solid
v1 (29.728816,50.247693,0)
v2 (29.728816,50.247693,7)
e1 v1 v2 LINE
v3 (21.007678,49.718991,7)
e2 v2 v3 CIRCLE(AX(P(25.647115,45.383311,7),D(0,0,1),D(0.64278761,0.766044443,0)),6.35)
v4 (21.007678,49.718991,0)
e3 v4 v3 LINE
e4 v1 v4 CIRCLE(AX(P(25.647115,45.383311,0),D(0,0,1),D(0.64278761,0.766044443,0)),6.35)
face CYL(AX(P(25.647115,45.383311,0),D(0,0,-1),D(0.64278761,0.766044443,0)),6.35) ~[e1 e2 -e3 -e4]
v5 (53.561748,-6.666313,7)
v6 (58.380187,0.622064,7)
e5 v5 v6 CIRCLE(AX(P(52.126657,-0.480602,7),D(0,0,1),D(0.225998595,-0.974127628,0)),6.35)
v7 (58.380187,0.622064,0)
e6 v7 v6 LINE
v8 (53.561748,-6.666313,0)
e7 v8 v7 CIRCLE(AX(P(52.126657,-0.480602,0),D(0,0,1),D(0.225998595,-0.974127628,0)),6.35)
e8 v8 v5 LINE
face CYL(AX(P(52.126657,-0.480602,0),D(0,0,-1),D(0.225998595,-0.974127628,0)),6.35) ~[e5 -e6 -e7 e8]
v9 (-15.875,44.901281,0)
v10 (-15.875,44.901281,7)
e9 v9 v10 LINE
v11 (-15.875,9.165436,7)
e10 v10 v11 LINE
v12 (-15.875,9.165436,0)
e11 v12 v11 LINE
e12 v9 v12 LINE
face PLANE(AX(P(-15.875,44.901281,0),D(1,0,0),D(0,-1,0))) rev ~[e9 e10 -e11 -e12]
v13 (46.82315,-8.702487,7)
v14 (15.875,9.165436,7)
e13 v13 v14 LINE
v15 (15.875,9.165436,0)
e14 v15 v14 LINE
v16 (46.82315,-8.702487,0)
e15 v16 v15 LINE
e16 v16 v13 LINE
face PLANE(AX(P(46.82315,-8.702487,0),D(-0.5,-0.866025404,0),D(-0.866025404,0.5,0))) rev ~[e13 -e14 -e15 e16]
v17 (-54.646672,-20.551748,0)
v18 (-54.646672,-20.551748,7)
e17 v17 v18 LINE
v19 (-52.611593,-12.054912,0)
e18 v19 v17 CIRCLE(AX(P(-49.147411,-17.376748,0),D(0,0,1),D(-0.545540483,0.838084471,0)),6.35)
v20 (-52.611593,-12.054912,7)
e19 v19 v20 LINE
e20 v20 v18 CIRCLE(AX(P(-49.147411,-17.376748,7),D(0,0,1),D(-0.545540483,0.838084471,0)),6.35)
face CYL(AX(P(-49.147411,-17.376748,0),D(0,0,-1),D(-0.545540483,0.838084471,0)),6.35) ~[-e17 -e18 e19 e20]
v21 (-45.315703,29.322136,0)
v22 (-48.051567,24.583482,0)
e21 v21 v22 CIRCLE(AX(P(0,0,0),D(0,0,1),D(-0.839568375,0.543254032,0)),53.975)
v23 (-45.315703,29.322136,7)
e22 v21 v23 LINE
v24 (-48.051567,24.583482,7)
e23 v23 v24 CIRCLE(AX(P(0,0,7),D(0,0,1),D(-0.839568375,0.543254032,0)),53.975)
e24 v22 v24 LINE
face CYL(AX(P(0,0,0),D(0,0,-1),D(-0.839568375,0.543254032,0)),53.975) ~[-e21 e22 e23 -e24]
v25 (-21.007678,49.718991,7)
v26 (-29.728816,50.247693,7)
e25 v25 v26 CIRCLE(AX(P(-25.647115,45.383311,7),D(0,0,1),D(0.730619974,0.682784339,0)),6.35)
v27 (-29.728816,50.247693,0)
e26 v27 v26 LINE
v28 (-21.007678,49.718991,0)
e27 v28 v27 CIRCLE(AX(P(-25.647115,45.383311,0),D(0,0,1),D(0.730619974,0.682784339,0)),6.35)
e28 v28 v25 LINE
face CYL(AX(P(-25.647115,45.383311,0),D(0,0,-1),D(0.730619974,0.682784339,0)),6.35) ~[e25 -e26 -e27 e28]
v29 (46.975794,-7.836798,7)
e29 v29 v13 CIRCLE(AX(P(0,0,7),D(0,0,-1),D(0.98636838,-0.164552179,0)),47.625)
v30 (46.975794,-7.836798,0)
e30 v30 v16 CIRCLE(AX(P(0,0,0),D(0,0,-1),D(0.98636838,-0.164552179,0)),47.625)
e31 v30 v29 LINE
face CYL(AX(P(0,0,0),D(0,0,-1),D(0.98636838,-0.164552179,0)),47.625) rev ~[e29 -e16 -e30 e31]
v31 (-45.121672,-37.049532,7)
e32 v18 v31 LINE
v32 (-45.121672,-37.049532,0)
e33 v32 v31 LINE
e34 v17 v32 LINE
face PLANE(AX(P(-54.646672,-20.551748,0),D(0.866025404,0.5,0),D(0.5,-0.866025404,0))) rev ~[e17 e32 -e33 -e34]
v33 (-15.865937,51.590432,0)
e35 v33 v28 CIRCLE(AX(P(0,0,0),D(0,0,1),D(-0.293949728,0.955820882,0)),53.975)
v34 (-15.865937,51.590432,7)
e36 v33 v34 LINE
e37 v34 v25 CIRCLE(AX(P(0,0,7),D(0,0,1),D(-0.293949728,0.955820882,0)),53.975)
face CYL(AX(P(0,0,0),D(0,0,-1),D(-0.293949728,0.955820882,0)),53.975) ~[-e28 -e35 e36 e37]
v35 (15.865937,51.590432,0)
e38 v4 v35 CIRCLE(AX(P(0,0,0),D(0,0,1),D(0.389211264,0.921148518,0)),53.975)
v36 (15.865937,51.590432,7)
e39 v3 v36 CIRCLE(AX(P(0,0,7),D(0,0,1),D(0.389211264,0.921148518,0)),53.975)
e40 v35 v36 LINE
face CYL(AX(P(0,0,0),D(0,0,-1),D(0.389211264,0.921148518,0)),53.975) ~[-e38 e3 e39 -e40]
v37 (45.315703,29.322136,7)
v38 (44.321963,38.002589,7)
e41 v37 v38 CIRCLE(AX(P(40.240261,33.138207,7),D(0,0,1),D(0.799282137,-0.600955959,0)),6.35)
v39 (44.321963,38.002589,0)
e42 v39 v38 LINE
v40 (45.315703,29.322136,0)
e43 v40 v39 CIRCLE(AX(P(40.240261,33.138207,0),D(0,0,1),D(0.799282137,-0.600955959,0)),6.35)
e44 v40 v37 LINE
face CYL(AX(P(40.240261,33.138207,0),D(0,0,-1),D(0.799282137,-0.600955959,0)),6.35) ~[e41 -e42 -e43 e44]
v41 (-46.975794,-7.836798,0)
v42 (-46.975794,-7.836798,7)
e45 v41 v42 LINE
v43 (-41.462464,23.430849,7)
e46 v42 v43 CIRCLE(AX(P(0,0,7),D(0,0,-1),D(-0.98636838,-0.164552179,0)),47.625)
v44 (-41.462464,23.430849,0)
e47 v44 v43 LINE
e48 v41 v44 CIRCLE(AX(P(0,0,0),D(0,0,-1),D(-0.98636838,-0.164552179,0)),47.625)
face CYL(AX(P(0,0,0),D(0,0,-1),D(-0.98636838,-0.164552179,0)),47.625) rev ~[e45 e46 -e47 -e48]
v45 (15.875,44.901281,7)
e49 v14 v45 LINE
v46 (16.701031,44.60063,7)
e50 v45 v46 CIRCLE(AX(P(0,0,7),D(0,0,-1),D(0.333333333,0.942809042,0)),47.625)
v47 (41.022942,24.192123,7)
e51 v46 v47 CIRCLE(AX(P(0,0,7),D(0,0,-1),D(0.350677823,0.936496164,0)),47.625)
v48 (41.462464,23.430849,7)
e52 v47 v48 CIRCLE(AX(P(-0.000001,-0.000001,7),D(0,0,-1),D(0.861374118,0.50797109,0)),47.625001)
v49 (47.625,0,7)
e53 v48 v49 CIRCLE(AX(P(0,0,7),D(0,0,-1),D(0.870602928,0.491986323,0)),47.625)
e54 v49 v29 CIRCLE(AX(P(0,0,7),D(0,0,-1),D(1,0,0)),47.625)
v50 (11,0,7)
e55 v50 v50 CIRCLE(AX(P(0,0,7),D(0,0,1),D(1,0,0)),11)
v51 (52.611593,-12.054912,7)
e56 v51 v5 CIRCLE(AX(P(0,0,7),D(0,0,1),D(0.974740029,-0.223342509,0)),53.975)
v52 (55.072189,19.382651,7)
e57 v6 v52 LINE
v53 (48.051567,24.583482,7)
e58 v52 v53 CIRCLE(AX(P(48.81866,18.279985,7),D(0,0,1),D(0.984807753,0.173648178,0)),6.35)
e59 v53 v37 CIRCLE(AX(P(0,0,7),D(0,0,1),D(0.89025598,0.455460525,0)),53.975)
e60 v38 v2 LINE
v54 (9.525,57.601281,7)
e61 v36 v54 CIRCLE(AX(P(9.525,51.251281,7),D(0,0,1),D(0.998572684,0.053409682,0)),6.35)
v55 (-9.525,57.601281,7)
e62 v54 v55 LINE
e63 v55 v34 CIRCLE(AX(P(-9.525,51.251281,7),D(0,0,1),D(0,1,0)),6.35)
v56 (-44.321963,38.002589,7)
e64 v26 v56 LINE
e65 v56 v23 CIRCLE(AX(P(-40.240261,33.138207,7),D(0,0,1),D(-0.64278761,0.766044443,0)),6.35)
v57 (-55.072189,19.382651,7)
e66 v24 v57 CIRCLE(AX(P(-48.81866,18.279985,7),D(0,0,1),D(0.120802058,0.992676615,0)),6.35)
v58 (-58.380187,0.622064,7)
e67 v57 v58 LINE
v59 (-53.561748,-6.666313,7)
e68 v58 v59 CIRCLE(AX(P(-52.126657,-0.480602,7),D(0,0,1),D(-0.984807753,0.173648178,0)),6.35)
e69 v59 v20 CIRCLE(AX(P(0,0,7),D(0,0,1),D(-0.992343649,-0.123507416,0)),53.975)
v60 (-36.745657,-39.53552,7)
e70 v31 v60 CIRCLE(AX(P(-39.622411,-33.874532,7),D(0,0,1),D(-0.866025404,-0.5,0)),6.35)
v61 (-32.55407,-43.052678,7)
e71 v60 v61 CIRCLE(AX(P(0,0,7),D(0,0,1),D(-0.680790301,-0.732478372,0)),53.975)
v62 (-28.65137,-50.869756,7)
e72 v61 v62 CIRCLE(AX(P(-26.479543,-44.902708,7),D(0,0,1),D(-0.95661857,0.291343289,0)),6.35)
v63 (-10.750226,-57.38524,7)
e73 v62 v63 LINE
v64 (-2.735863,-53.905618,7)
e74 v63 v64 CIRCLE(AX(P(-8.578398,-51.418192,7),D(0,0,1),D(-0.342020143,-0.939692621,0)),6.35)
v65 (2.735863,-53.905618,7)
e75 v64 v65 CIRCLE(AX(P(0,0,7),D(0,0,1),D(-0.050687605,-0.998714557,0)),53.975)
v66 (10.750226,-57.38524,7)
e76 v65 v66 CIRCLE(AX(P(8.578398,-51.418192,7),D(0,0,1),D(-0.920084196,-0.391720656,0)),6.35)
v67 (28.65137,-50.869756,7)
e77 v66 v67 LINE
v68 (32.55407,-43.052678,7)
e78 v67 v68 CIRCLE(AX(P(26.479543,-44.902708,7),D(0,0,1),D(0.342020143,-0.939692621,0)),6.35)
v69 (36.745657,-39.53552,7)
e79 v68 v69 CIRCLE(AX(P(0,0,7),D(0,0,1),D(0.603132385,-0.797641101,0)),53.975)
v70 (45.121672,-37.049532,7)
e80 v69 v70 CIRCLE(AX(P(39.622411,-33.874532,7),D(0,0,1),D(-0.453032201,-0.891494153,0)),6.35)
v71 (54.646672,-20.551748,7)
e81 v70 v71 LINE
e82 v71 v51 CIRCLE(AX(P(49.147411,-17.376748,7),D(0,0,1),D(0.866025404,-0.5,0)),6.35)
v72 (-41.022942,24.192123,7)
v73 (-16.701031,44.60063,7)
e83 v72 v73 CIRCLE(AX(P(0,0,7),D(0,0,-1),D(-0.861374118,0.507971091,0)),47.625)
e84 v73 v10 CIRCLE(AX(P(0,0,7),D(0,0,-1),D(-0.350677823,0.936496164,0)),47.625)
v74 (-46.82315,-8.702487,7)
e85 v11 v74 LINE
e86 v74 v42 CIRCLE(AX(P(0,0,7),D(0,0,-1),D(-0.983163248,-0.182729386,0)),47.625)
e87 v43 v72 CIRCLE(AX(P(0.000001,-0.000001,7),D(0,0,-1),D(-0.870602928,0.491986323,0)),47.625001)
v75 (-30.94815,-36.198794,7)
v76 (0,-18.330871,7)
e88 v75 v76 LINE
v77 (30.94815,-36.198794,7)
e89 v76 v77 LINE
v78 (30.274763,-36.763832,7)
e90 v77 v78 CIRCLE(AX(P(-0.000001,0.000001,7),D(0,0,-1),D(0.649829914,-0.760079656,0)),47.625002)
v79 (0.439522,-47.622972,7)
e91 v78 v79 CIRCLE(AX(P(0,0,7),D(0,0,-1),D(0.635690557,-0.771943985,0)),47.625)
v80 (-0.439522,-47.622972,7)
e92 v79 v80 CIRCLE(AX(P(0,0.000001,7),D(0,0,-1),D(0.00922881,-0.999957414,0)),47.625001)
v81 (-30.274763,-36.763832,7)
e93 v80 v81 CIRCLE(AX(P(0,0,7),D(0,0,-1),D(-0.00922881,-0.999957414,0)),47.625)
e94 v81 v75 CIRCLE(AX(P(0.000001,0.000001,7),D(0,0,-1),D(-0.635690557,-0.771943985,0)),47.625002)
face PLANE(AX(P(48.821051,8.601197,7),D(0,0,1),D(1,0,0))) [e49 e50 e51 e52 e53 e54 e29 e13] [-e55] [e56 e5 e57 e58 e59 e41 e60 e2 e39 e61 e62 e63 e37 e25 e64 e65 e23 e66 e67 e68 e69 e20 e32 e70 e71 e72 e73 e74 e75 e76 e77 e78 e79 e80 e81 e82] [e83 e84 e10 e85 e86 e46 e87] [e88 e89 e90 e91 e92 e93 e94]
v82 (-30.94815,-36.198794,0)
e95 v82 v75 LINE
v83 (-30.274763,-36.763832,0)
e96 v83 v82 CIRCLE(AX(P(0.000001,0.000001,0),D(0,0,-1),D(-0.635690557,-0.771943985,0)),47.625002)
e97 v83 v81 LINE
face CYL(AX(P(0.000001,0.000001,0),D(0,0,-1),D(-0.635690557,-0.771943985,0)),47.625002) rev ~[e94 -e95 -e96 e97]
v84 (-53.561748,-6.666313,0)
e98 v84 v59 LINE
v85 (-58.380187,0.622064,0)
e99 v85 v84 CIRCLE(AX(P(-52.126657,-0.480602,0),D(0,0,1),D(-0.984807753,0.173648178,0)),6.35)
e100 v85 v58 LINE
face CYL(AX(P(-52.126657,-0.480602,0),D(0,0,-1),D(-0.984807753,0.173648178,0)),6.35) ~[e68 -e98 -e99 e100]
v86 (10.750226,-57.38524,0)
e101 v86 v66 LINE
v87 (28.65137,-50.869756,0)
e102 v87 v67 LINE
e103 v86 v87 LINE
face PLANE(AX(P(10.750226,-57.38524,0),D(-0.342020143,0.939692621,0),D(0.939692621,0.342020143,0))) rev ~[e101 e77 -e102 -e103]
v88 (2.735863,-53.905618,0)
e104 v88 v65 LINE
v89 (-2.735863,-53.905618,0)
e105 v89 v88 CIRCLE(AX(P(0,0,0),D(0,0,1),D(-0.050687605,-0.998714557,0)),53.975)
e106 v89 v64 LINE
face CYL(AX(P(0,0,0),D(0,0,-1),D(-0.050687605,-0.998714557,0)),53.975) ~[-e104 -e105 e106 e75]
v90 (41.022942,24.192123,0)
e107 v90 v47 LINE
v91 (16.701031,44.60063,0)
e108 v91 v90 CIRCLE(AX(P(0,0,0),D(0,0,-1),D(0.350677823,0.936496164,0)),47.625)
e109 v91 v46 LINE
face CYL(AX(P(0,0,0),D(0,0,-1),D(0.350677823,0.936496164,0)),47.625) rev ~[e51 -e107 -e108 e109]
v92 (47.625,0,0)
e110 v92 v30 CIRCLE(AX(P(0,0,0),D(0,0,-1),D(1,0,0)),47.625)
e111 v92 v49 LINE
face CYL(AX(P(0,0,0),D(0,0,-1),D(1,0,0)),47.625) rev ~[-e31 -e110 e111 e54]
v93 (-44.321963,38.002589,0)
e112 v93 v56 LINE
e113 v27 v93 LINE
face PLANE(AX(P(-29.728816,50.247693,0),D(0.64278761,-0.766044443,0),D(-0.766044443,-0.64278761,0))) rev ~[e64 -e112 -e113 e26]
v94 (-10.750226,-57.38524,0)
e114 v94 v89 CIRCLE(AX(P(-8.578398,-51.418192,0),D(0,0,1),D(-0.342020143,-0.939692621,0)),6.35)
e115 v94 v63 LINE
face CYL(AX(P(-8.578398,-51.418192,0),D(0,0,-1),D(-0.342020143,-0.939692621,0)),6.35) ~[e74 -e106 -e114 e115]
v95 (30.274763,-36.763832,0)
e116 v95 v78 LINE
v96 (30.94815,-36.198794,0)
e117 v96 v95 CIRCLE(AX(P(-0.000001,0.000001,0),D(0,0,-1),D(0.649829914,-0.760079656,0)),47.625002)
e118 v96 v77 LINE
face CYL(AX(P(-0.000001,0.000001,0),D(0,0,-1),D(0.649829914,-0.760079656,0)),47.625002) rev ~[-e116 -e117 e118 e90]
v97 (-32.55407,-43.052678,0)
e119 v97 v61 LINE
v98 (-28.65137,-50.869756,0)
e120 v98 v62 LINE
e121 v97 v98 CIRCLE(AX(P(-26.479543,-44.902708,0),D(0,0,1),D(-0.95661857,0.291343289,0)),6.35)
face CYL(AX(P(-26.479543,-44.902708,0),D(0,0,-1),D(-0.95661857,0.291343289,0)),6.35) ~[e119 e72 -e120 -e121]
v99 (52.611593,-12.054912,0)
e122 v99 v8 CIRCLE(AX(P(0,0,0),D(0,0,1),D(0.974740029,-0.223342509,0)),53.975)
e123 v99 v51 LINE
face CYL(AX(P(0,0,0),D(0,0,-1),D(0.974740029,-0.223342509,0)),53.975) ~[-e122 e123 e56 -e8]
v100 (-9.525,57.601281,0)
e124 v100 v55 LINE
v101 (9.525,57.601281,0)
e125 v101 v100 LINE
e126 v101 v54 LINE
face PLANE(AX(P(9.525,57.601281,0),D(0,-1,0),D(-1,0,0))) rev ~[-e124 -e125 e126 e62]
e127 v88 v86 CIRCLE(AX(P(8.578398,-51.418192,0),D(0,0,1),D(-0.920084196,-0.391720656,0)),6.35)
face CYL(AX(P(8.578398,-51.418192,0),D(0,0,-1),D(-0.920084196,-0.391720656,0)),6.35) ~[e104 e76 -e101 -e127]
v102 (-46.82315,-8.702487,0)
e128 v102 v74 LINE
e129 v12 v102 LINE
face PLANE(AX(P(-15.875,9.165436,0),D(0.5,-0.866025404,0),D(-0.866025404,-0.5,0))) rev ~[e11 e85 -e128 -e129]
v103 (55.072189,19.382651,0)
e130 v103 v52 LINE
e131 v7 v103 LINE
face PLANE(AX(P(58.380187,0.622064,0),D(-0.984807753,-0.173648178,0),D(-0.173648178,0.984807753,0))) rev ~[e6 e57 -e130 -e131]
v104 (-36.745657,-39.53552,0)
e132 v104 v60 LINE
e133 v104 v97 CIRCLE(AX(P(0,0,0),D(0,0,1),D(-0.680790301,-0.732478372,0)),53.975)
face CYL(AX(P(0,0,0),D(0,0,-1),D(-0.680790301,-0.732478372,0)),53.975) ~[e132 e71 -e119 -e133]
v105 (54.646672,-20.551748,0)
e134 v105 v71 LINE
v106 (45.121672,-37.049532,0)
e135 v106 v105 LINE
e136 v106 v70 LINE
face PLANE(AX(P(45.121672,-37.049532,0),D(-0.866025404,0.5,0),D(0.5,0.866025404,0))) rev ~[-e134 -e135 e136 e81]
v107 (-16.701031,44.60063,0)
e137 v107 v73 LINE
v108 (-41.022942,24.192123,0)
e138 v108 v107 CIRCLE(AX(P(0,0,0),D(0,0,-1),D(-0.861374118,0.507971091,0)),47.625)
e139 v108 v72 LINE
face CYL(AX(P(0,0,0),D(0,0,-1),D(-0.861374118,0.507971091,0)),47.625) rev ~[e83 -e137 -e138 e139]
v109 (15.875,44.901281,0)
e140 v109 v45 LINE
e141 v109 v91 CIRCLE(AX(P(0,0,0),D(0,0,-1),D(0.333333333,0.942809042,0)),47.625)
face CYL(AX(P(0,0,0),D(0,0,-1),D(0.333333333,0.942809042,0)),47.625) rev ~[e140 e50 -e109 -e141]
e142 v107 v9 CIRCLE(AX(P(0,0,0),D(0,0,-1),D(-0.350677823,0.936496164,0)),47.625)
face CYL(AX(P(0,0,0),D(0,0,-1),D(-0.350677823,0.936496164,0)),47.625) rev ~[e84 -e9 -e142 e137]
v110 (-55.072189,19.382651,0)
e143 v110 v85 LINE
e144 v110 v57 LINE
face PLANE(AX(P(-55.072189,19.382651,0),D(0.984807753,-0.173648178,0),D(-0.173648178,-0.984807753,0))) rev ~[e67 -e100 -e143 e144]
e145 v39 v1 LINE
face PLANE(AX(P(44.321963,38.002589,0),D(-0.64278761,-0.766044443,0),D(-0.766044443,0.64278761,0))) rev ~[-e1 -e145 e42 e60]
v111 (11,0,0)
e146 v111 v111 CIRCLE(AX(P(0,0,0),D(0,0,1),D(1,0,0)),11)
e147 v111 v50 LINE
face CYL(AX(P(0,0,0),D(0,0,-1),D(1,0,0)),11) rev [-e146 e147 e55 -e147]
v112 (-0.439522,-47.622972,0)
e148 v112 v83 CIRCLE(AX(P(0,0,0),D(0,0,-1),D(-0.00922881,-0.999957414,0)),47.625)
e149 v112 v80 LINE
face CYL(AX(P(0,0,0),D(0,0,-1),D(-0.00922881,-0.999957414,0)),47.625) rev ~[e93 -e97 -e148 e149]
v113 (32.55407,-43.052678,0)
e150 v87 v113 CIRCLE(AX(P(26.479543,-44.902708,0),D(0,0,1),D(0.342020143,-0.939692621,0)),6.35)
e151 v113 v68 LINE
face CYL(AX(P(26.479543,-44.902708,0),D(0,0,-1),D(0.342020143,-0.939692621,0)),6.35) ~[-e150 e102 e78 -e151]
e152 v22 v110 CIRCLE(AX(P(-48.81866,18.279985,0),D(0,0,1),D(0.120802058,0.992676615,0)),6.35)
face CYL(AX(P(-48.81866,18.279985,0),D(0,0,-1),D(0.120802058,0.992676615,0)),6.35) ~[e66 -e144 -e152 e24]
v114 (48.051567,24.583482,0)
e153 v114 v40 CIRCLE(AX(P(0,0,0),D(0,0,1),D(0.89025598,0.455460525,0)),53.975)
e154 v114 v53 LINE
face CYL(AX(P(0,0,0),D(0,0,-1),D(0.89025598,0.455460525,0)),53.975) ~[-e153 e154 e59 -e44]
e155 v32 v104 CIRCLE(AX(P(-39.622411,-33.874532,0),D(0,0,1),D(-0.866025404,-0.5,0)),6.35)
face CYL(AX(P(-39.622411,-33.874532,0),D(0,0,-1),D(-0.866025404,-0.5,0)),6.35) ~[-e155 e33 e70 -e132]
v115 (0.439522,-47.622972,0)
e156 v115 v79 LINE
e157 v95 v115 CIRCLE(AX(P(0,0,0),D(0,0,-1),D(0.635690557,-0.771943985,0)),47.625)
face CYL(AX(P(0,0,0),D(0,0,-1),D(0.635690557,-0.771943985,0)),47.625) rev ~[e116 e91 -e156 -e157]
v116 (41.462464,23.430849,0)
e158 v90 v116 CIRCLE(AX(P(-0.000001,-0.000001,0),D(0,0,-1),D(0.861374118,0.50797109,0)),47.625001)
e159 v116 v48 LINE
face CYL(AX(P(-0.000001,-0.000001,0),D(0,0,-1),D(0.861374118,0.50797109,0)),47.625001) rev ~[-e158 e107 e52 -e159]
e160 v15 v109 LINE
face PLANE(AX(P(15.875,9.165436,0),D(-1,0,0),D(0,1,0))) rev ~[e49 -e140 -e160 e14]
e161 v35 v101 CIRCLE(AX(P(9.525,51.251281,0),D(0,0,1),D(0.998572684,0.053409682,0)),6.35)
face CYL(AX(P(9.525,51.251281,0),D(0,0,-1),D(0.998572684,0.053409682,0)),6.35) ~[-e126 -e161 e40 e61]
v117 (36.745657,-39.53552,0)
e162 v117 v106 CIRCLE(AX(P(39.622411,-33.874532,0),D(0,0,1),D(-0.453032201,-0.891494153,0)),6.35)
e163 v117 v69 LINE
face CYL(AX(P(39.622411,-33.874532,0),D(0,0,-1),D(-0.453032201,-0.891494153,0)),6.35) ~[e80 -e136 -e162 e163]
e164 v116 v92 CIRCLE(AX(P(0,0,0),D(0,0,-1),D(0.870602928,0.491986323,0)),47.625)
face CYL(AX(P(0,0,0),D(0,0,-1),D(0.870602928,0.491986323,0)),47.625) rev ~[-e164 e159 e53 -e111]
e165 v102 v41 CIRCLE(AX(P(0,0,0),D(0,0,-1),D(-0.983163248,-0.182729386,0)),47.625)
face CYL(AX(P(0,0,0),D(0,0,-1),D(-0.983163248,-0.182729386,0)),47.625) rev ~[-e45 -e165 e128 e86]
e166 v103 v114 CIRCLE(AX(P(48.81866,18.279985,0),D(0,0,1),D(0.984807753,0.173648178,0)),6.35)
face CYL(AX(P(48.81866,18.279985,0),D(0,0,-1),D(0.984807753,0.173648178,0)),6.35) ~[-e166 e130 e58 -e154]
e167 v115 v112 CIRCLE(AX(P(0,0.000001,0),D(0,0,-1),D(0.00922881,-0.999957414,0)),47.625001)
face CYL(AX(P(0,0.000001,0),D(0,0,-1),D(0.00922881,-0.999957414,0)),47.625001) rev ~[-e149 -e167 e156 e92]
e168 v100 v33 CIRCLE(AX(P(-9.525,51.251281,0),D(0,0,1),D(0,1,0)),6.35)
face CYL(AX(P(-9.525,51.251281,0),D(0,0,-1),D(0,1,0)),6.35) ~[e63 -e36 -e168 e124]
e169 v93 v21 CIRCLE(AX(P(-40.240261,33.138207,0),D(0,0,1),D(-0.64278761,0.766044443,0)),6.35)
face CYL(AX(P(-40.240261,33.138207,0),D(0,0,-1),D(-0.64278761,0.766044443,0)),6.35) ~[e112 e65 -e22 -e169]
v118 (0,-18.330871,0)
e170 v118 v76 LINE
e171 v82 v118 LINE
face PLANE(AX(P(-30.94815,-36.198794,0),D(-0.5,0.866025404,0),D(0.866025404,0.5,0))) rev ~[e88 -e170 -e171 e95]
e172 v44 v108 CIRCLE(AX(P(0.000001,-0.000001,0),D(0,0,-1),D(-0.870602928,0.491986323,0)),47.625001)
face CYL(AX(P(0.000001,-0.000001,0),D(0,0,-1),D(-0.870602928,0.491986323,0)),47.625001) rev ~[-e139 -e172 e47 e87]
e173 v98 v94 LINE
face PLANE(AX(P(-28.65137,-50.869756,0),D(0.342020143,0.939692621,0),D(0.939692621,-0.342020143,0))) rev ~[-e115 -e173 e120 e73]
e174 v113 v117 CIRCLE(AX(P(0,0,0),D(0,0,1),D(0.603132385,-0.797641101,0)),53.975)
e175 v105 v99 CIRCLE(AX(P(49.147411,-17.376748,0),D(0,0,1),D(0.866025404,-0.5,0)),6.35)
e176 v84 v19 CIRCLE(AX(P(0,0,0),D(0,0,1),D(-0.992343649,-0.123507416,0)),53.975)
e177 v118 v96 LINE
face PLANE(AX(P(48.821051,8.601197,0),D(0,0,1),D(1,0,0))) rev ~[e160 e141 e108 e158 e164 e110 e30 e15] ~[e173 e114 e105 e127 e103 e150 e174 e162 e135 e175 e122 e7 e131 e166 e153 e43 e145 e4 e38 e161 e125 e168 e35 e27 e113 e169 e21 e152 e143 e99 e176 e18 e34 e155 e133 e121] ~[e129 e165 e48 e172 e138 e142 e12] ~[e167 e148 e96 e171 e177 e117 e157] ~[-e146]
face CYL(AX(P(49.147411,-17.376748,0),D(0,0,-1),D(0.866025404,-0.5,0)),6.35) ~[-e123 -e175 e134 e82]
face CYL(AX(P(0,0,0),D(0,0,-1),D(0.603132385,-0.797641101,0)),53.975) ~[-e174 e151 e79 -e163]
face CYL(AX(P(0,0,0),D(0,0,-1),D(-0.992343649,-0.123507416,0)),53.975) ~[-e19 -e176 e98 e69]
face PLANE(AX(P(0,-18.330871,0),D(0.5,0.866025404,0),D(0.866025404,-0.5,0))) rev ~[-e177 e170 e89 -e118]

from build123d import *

# Parameters (mm, degrees)
F0_R     = 15.875
F0_R_2   = 11
F1_DEPTH = 7


with BuildPart() as f1:
    # F0 (on Top) → F1 (new body)
    with BuildSketch(Plane.XY):
        with BuildLine():
            ThreePointArc((41.4624644399, 23.4308486311), (46.0586066547, 12.1138506688), (47.625, 0))
            ThreePointArc((47.625, 0), (47.4624210197, -3.931820946), (46.9757940808, -7.836797527))
            Line((46.9757940808, -7.836797527), (53.2293233124, -6.7341315989))
            ThreePointArc((53.2293233124, -6.7341315989), (53.3959889037, -6.7024427295), (53.5617484649, -6.6663128026))
            ThreePointArc((53.5617484649, -6.6663128026), (53.8715880516, -3.3395547313), (53.975, 0))
            ThreePointArc((53.975, 0), (52.4732499869, 12.6435224842), (48.0515665287, 24.5834818352))
            ThreePointArc((48.0515665287, 24.5834818352), (47.8834463294, 24.560739752), (47.7159936715, 24.5335145593))
            Line((47.7159936715, 24.5335145593), (41.4624644399, 23.4308486311))
        make_face()
        with BuildLine():
            ThreePointArc((41.0229423667, 24.1921231929), (41.2444598552, 23.8125), (41.4624644399, 23.4308486311))
            Line((41.4624644399, 23.4308486311), (47.7159936715, 24.5335145593))
            ThreePointArc((47.7159936715, 24.5335145593), (47.8834463294, 24.560739752), (48.0515665287, 24.5834818352))
            ThreePointArc((48.0515665287, 24.5834818352), (46.7437211693, 26.9875), (45.3157030471, 29.3221363879))
            ThreePointArc((45.3157030471, 29.3221363879), (45.2119477257, 29.187911066), (45.1046436882, 29.0565054067))
            Line((45.1046436882, 29.0565054067), (41.0229423667, 24.1921231929))
        make_face()
        with BuildLine():
            Line((53.2293233124, -6.7341315989), (46.9757940808, -7.836797527))
            ThreePointArc((46.9757940808, -7.836797527), (46.9014692372, -8.2699944614), (46.8231496667, -8.7024870176))
            Line((46.8231496667, -8.7024870176), (52.3224109807, -11.8774870176))
            ThreePointArc((52.3224109807, -11.8774870176), (52.4681871753, -11.9642678037), (52.6115930491, -12.0549119383))
            ThreePointArc((52.6115930491, -12.0549119383), (53.1549984688, -9.3726603896), (53.5617484649, -6.6663128026))
            ThreePointArc((53.5617484649, -6.6663128026), (53.3959889037, -6.7024427295), (53.2293233124, -6.7341315989))
        make_face()
        with BuildLine():
            ThreePointArc((16.7010312977, 44.6006298004), (30.6127599113, 36.4828666035), (41.0229423667, 24.1921231929))
            Line((41.0229423667, 24.1921231929), (45.1046436882, 29.0565054067))
            ThreePointArc((45.1046436882, 29.0565054067), (45.2119477257, 29.187911066), (45.3157030471, 29.3221363879))
            ThreePointArc((45.3157030471, 29.3221363879), (34.6944612328, 41.3472488173), (21.0076779958, 49.718991243))
            ThreePointArc((21.0076779958, 49.718991243), (20.8935087807, 49.5935042155), (20.7827326192, 49.4650120142))
            Line((20.7827326192, 49.4650120142), (16.7010312977, 44.6006298004))
        make_face()
        with BuildLine():
            Line((52.3224109807, -11.8774870176), (46.8231496667, -8.7024870176))
            ThreePointArc((46.8231496667, -8.7024870176), (41.2444598552, -23.8125), (30.9481496667, -36.1987935878))
            Line((30.9481496667, -36.1987935878), (36.4474109807, -39.3737935878))
            ThreePointArc((36.4474109807, -39.3737935878), (36.5954534434, -39.4566490825), (36.7456565035, -39.5355201449))
            ThreePointArc((36.7456565035, -39.5355201449), (46.7437211693, -26.9875), (52.6115930491, -12.0549119383))
            ThreePointArc((52.6115930491, -12.0549119383), (52.4681871753, -11.9642678037), (52.3224109807, -11.8774870176))
        make_face()
        with BuildLine():
            ThreePointArc((15.875, 44.9012806053), (16.2887093259, 44.7528610649), (16.7010312977, 44.6006298004))
            Line((16.7010312977, 44.6006298004), (20.7827326192, 49.4650120142))
            ThreePointArc((20.7827326192, 49.4650120142), (20.8935087807, 49.5935042155), (21.0076779958, 49.718991243))
            ThreePointArc((21.0076779958, 49.718991243), (18.460537236, 50.7199092069), (15.8659365456, 51.5904320832))
            ThreePointArc((15.8659365456, 51.5904320832), (15.872733732, 51.4209168862), (15.875, 51.2512806053))
            Line((15.875, 51.2512806053), (15.875, 44.9012806053))
        make_face()
        with BuildLine():
            ThreePointArc((55.0721888313, 19.3826512558), (52.5985279988, 23.3824450174), (48.0515665287, 24.5834818352))
            ThreePointArc((48.0515665287, 24.5834818352), (52.4732499869, 12.6435224842), (53.975, 0))
            ThreePointArc((53.975, 0), (53.8715880516, -3.3395547313), (53.5617484649, -6.6663128026))
            ThreePointArc((53.5617484649, -6.6663128026), (57.4237158208, -3.9825549539), (58.3801866159, 0.622063561))
            Line((58.3801866159, 0.622063561), (55.0721888313, 19.3826512558))
        make_face()
        with BuildLine():
            Line((36.4474109807, -39.3737935878), (30.9481496667, -36.1987935878))
            ThreePointArc((30.9481496667, -36.1987935878), (30.6127599113, -36.4828666035), (30.2747627831, -36.7638322734))
            Line((30.2747627831, -36.7638322734), (32.4465906932, -42.7308804154))
            ThreePointArc((32.4465906932, -42.7308804154), (32.502480123, -42.891061486), (32.5540704691, -43.0526784404))
            ThreePointArc((32.5540704691, -43.0526784404), (34.6944612328, -41.3472488173), (36.7456565035, -39.5355201449))
            ThreePointArc((36.7456565035, -39.5355201449), (36.5954534434, -39.4566490825), (36.4474109807, -39.3737935878))
        make_face()
        with BuildLine():
            ThreePointArc((-15.875, 44.9012806053), (0, 47.625), (15.875, 44.9012806053))
            Line((15.875, 44.9012806053), (15.875, 51.2512806053))
            ThreePointArc((15.875, 51.2512806053), (15.872733732, 51.4209168862), (15.8659365456, 51.5904320832))
            ThreePointArc((15.8659365456, 51.5904320832), (0, 53.975), (-15.8659365456, 51.5904320832))
            ThreePointArc((-15.8659365456, 51.5904320832), (-15.872733732, 51.4209168862), (-15.875, 51.2512806053))
            Line((-15.875, 51.2512806053), (-15.875, 44.9012806053))
        make_face()
        with BuildLine():
            ThreePointArc((21.0076779958, 49.718991243), (34.6944612328, 41.3472488173), (45.3157030471, 29.3221363879))
            ThreePointArc((45.3157030471, 29.3221363879), (46.549055387, 33.86043894), (44.3219627959, 38.002588942))
            Line((44.3219627959, 38.002588942), (29.7288161545, 50.2476929065))
            ThreePointArc((29.7288161545, 50.2476929065), (25.2628641484, 51.7216741575), (21.0076779958, 49.718991243))
        make_face()
        with BuildLine():
            Line((32.4465906932, -42.7308804154), (30.2747627831, -36.7638322734))
            ThreePointArc((30.2747627831, -36.7638322734), (16.2887093259, -44.7528610649), (0.4395220732, -47.622971824))
            Line((0.4395220732, -47.622971824), (2.6113499833, -53.590019966))
            ThreePointArc((2.6113499833, -53.590019966), (2.6714986037, -53.748650818), (2.7358634816, -53.9056182231))
            ThreePointArc((2.7358634816, -53.9056182231), (18.460537236, -50.7199092069), (32.5540704691, -43.0526784404))
            ThreePointArc((32.5540704691, -43.0526784404), (32.502480123, -42.891061486), (32.4465906932, -42.7308804154))
        make_face()
        with BuildLine():
            ThreePointArc((54.6466722947, -20.5517483316), (55.3227560311, -15.8976900133), (52.6115930491, -12.0549119383))
            ThreePointArc((52.6115930491, -12.0549119383), (46.7437211693, -26.9875), (36.7456565035, -39.5355201449))
            ThreePointArc((36.7456565035, -39.5355201449), (41.4291814286, -39.9620671236), (45.1216722947, -37.0495322737))
            Line((45.1216722947, -37.0495322737), (54.6466722947, -20.5517483316))
        make_face()
        with BuildLine():
            ThreePointArc((-16.7010312977, 44.6006298004), (-16.2887093259, 44.7528610649), (-15.875, 44.9012806053))
            Line((-15.875, 44.9012806053), (-15.875, 51.2512806053))
            ThreePointArc((-15.875, 51.2512806053), (-15.872733732, 51.4209168862), (-15.8659365456, 51.5904320832))
            ThreePointArc((-15.8659365456, 51.5904320832), (-18.460537236, 50.7199092069), (-21.0076779958, 49.718991243))
            ThreePointArc((-21.0076779958, 49.718991243), (-20.8935087807, 49.5935042155), (-20.7827326192, 49.4650120142))
            Line((-20.7827326192, 49.4650120142), (-16.7010312977, 44.6006298004))
        make_face()
        with BuildLine():
            Line((2.6113499833, -53.590019966), (0.4395220732, -47.622971824))
            ThreePointArc((0.4395220732, -47.622971824), (0, -47.625), (-0.4395220732, -47.622971824))
            Line((-0.4395220732, -47.622971824), (-2.6113499833, -53.590019966))
            ThreePointArc((-2.6113499833, -53.590019966), (-2.6714986037, -53.748650818), (-2.7358634816, -53.9056182231))
            ThreePointArc((-2.7358634816, -53.9056182231), (0, -53.975), (2.7358634816, -53.9056182231))
            ThreePointArc((2.7358634816, -53.9056182231), (2.6714986037, -53.748650818), (2.6113499833, -53.590019966))
        make_face()
        with BuildLine():
            Line((-36.4474109807, -39.3737935878), (-30.9481496667, -36.1987935878))
            ThreePointArc((-30.9481496667, -36.1987935878), (-41.2444598552, -23.8125), (-46.8231496667, -8.7024870176))
            Line((-46.8231496667, -8.7024870176), (-52.3224109807, -11.8774870176))
            ThreePointArc((-52.3224109807, -11.8774870176), (-52.4681871753, -11.9642678037), (-52.6115930491, -12.0549119383))
            ThreePointArc((-52.6115930491, -12.0549119383), (-46.7437211693, -26.9875), (-36.7456565035, -39.5355201449))
            ThreePointArc((-36.7456565035, -39.5355201449), (-36.5954534434, -39.4566490825), (-36.4474109807, -39.3737935878))
        make_face()
        with BuildLine():
            ThreePointArc((-30.2747627831, -36.7638322734), (-30.6127599113, -36.4828666035), (-30.9481496667, -36.1987935878))
            Line((-30.9481496667, -36.1987935878), (-36.4474109807, -39.3737935878))
            ThreePointArc((-36.4474109807, -39.3737935878), (-36.5954534434, -39.4566490825), (-36.7456565035, -39.5355201449))
            ThreePointArc((-36.7456565035, -39.5355201449), (-34.6944612328, -41.3472488173), (-32.5540704691, -43.0526784404))
            ThreePointArc((-32.5540704691, -43.0526784404), (-32.502480123, -42.891061486), (-32.4465906932, -42.7308804154))
            Line((-32.4465906932, -42.7308804154), (-30.2747627831, -36.7638322734))
        make_face()
        with BuildLine():
            ThreePointArc((-41.0229423667, 24.1921231929), (-30.6127599113, 36.4828666035), (-16.7010312977, 44.6006298004))
            Line((-16.7010312977, 44.6006298004), (-20.7827326192, 49.4650120142))
            ThreePointArc((-20.7827326192, 49.4650120142), (-20.8935087807, 49.5935042155), (-21.0076779958, 49.718991243))
            ThreePointArc((-21.0076779958, 49.718991243), (-34.6944612328, 41.3472488173), (-45.3157030471, 29.3221363879))
            ThreePointArc((-45.3157030471, 29.3221363879), (-45.2119477257, 29.187911066), (-45.1046436882, 29.0565054067))
            Line((-45.1046436882, 29.0565054067), (-41.0229423667, 24.1921231929))
        make_face()
        with BuildLine():
            ThreePointArc((-15.8659365456, 51.5904320832), (0, 53.975), (15.8659365456, 51.5904320832))
            ThreePointArc((15.8659365456, 51.5904320832), (13.8935746025, 55.8597571369), (9.525, 57.6012806053))
            Line((9.525, 57.6012806053), (-9.525, 57.6012806053))
            ThreePointArc((-9.525, 57.6012806053), (-13.8935746025, 55.8597571369), (-15.8659365456, 51.5904320832))
        make_face()
        with BuildLine():
            Line((-2.6113499833, -53.590019966), (-0.4395220732, -47.622971824))
            ThreePointArc((-0.4395220732, -47.622971824), (-16.2887093259, -44.7528610649), (-30.2747627831, -36.7638322734))
            Line((-30.2747627831, -36.7638322734), (-32.4465906932, -42.7308804154))
            ThreePointArc((-32.4465906932, -42.7308804154), (-32.502480123, -42.891061486), (-32.5540704691, -43.0526784404))
            ThreePointArc((-32.5540704691, -43.0526784404), (-18.460537236, -50.7199092069), (-2.7358634816, -53.9056182231))
            ThreePointArc((-2.7358634816, -53.9056182231), (-2.6714986037, -53.748650818), (-2.6113499833, -53.590019966))
        make_face()
        with BuildLine():
            ThreePointArc((28.6513704614, -50.8697564675), (32.1608516724, -47.7391192036), (32.5540704691, -43.0526784404))
            ThreePointArc((32.5540704691, -43.0526784404), (18.460537236, -50.7199092069), (2.7358634816, -53.9056182231))
            ThreePointArc((2.7358634816, -53.9056182231), (6.0494726118, -57.2428839573), (10.7502260354, -57.3852401978))
            Line((10.7502260354, -57.3852401978), (28.6513704614, -50.8697564675))
        make_face()
        with BuildLine():
            Line((-52.3224109807, -11.8774870176), (-46.8231496667, -8.7024870176))
            ThreePointArc((-46.8231496667, -8.7024870176), (-46.9014692372, -8.2699944614), (-46.9757940808, -7.836797527))
            Line((-46.9757940808, -7.836797527), (-53.2293233124, -6.7341315989))
            ThreePointArc((-53.2293233124, -6.7341315989), (-53.3959889037, -6.7024427295), (-53.5617484649, -6.6663128026))
            ThreePointArc((-53.5617484649, -6.6663128026), (-53.1549984688, -9.3726603896), (-52.6115930491, -12.0549119383))
            ThreePointArc((-52.6115930491, -12.0549119383), (-52.4681871753, -11.9642678037), (-52.3224109807, -11.8774870176))
        make_face()
        with BuildLine():
            ThreePointArc((-41.4624644399, 23.4308486311), (-41.2444598552, 23.8125), (-41.0229423667, 24.1921231929))
            Line((-41.0229423667, 24.1921231929), (-45.1046436882, 29.0565054067))
            ThreePointArc((-45.1046436882, 29.0565054067), (-45.2119477257, 29.187911066), (-45.3157030471, 29.3221363879))
            ThreePointArc((-45.3157030471, 29.3221363879), (-46.7437211693, 26.9875), (-48.0515665287, 24.5834818352))
            ThreePointArc((-48.0515665287, 24.5834818352), (-47.8834463294, 24.560739752), (-47.7159936715, 24.5335145593))
            Line((-47.7159936715, 24.5335145593), (-41.4624644399, 23.4308486311))
        make_face()
        with BuildLine():
            Line((-53.2293233124, -6.7341315989), (-46.9757940808, -7.836797527))
            ThreePointArc((-46.9757940808, -7.836797527), (-46.9014692372, 8.2699944614), (-41.4624644399, 23.4308486311))
            Line((-41.4624644399, 23.4308486311), (-47.7159936715, 24.5335145593))
            ThreePointArc((-47.7159936715, 24.5335145593), (-47.8834463294, 24.560739752), (-48.0515665287, 24.5834818352))
            ThreePointArc((-48.0515665287, 24.5834818352), (-53.1549984688, 9.3726603896), (-53.5617484649, -6.6663128026))
            ThreePointArc((-53.5617484649, -6.6663128026), (-53.3959889037, -6.7024427295), (-53.2293233124, -6.7341315989))
        make_face()
        with BuildLine():
            ThreePointArc((-45.1216722947, -37.0495322737), (-41.4291814286, -39.9620671236), (-36.7456565035, -39.5355201449))
            ThreePointArc((-36.7456565035, -39.5355201449), (-46.7437211693, -26.9875), (-52.6115930491, -12.0549119383))
            ThreePointArc((-52.6115930491, -12.0549119383), (-55.3227560311, -15.8976900133), (-54.6466722947, -20.5517483316))
            Line((-54.6466722947, -20.5517483316), (-45.1216722947, -37.0495322737))
        make_face()
        with BuildLine():
            ThreePointArc((-45.3157030471, 29.3221363879), (-34.6944612328, 41.3472488173), (-21.0076779958, 49.718991243))
            ThreePointArc((-21.0076779958, 49.718991243), (-25.2628641484, 51.7216741575), (-29.7288161545, 50.2476929065))
            Line((-29.7288161545, 50.2476929065), (-44.3219627959, 38.002588942))
            ThreePointArc((-44.3219627959, 38.002588942), (-46.549055387, 33.86043894), (-45.3157030471, 29.3221363879))
        make_face()
        with BuildLine():
            ThreePointArc((-10.7502260354, -57.3852401978), (-6.0494726118, -57.2428839573), (-2.7358634816, -53.9056182231))
            ThreePointArc((-2.7358634816, -53.9056182231), (-18.460537236, -50.7199092069), (-32.5540704691, -43.0526784404))
            ThreePointArc((-32.5540704691, -43.0526784404), (-32.1608516724, -47.7391192036), (-28.6513704614, -50.8697564675))
            Line((-28.6513704614, -50.8697564675), (-10.7502260354, -57.3852401978))
        make_face()
        with BuildLine():
            ThreePointArc((-58.3801866159, 0.622063561), (-57.4237158208, -3.9825549539), (-53.5617484649, -6.6663128026))
            ThreePointArc((-53.5617484649, -6.6663128026), (-53.1549984688, 9.3726603896), (-48.0515665287, 24.5834818352))
            ThreePointArc((-48.0515665287, 24.5834818352), (-52.5985279988, 23.3824450174), (-55.0721888313, 19.3826512558))
            Line((-55.0721888313, 19.3826512558), (-58.3801866159, 0.622063561))
        make_face()
        Polygon((30.9481496667, -36.1987935878), (46.8231496667, -8.7024870176), (15.875, 9.1654355234), (15.875, 44.9012806053), (-15.875, 44.9012806053), (-15.875, 9.1654355234), (-46.8231496667, -8.7024870176), (-30.9481496667, -36.1987935878), (0, -18.3308710468), align=None)
        Circle(F0_R, mode=Mode.SUBTRACT)
        Circle(F0_R)
        Circle(F0_R_2, mode=Mode.SUBTRACT)
        with BuildLine():
            Line((-15.875, 44.9012806053), (15.875, 44.9012806053))
            ThreePointArc((15.875, 44.9012806053), (0, 47.625), (-15.875, 44.9012806053))
        make_face()
        with BuildLine():
            ThreePointArc((-46.8231496667, -8.7024870176), (-41.2444598552, -23.8125), (-30.9481496667, -36.1987935878))
            Line((-30.9481496667, -36.1987935878), (-46.8231496667, -8.7024870176))
        make_face()
        with BuildLine():
            ThreePointArc((30.9481496667, -36.1987935878), (41.2444598552, -23.8125), (46.8231496667, -8.7024870176))
            Line((46.8231496667, -8.7024870176), (30.9481496667, -36.1987935878))
        make_face()
    extrude(amount=F1_DEPTH)


solid = f1.part
